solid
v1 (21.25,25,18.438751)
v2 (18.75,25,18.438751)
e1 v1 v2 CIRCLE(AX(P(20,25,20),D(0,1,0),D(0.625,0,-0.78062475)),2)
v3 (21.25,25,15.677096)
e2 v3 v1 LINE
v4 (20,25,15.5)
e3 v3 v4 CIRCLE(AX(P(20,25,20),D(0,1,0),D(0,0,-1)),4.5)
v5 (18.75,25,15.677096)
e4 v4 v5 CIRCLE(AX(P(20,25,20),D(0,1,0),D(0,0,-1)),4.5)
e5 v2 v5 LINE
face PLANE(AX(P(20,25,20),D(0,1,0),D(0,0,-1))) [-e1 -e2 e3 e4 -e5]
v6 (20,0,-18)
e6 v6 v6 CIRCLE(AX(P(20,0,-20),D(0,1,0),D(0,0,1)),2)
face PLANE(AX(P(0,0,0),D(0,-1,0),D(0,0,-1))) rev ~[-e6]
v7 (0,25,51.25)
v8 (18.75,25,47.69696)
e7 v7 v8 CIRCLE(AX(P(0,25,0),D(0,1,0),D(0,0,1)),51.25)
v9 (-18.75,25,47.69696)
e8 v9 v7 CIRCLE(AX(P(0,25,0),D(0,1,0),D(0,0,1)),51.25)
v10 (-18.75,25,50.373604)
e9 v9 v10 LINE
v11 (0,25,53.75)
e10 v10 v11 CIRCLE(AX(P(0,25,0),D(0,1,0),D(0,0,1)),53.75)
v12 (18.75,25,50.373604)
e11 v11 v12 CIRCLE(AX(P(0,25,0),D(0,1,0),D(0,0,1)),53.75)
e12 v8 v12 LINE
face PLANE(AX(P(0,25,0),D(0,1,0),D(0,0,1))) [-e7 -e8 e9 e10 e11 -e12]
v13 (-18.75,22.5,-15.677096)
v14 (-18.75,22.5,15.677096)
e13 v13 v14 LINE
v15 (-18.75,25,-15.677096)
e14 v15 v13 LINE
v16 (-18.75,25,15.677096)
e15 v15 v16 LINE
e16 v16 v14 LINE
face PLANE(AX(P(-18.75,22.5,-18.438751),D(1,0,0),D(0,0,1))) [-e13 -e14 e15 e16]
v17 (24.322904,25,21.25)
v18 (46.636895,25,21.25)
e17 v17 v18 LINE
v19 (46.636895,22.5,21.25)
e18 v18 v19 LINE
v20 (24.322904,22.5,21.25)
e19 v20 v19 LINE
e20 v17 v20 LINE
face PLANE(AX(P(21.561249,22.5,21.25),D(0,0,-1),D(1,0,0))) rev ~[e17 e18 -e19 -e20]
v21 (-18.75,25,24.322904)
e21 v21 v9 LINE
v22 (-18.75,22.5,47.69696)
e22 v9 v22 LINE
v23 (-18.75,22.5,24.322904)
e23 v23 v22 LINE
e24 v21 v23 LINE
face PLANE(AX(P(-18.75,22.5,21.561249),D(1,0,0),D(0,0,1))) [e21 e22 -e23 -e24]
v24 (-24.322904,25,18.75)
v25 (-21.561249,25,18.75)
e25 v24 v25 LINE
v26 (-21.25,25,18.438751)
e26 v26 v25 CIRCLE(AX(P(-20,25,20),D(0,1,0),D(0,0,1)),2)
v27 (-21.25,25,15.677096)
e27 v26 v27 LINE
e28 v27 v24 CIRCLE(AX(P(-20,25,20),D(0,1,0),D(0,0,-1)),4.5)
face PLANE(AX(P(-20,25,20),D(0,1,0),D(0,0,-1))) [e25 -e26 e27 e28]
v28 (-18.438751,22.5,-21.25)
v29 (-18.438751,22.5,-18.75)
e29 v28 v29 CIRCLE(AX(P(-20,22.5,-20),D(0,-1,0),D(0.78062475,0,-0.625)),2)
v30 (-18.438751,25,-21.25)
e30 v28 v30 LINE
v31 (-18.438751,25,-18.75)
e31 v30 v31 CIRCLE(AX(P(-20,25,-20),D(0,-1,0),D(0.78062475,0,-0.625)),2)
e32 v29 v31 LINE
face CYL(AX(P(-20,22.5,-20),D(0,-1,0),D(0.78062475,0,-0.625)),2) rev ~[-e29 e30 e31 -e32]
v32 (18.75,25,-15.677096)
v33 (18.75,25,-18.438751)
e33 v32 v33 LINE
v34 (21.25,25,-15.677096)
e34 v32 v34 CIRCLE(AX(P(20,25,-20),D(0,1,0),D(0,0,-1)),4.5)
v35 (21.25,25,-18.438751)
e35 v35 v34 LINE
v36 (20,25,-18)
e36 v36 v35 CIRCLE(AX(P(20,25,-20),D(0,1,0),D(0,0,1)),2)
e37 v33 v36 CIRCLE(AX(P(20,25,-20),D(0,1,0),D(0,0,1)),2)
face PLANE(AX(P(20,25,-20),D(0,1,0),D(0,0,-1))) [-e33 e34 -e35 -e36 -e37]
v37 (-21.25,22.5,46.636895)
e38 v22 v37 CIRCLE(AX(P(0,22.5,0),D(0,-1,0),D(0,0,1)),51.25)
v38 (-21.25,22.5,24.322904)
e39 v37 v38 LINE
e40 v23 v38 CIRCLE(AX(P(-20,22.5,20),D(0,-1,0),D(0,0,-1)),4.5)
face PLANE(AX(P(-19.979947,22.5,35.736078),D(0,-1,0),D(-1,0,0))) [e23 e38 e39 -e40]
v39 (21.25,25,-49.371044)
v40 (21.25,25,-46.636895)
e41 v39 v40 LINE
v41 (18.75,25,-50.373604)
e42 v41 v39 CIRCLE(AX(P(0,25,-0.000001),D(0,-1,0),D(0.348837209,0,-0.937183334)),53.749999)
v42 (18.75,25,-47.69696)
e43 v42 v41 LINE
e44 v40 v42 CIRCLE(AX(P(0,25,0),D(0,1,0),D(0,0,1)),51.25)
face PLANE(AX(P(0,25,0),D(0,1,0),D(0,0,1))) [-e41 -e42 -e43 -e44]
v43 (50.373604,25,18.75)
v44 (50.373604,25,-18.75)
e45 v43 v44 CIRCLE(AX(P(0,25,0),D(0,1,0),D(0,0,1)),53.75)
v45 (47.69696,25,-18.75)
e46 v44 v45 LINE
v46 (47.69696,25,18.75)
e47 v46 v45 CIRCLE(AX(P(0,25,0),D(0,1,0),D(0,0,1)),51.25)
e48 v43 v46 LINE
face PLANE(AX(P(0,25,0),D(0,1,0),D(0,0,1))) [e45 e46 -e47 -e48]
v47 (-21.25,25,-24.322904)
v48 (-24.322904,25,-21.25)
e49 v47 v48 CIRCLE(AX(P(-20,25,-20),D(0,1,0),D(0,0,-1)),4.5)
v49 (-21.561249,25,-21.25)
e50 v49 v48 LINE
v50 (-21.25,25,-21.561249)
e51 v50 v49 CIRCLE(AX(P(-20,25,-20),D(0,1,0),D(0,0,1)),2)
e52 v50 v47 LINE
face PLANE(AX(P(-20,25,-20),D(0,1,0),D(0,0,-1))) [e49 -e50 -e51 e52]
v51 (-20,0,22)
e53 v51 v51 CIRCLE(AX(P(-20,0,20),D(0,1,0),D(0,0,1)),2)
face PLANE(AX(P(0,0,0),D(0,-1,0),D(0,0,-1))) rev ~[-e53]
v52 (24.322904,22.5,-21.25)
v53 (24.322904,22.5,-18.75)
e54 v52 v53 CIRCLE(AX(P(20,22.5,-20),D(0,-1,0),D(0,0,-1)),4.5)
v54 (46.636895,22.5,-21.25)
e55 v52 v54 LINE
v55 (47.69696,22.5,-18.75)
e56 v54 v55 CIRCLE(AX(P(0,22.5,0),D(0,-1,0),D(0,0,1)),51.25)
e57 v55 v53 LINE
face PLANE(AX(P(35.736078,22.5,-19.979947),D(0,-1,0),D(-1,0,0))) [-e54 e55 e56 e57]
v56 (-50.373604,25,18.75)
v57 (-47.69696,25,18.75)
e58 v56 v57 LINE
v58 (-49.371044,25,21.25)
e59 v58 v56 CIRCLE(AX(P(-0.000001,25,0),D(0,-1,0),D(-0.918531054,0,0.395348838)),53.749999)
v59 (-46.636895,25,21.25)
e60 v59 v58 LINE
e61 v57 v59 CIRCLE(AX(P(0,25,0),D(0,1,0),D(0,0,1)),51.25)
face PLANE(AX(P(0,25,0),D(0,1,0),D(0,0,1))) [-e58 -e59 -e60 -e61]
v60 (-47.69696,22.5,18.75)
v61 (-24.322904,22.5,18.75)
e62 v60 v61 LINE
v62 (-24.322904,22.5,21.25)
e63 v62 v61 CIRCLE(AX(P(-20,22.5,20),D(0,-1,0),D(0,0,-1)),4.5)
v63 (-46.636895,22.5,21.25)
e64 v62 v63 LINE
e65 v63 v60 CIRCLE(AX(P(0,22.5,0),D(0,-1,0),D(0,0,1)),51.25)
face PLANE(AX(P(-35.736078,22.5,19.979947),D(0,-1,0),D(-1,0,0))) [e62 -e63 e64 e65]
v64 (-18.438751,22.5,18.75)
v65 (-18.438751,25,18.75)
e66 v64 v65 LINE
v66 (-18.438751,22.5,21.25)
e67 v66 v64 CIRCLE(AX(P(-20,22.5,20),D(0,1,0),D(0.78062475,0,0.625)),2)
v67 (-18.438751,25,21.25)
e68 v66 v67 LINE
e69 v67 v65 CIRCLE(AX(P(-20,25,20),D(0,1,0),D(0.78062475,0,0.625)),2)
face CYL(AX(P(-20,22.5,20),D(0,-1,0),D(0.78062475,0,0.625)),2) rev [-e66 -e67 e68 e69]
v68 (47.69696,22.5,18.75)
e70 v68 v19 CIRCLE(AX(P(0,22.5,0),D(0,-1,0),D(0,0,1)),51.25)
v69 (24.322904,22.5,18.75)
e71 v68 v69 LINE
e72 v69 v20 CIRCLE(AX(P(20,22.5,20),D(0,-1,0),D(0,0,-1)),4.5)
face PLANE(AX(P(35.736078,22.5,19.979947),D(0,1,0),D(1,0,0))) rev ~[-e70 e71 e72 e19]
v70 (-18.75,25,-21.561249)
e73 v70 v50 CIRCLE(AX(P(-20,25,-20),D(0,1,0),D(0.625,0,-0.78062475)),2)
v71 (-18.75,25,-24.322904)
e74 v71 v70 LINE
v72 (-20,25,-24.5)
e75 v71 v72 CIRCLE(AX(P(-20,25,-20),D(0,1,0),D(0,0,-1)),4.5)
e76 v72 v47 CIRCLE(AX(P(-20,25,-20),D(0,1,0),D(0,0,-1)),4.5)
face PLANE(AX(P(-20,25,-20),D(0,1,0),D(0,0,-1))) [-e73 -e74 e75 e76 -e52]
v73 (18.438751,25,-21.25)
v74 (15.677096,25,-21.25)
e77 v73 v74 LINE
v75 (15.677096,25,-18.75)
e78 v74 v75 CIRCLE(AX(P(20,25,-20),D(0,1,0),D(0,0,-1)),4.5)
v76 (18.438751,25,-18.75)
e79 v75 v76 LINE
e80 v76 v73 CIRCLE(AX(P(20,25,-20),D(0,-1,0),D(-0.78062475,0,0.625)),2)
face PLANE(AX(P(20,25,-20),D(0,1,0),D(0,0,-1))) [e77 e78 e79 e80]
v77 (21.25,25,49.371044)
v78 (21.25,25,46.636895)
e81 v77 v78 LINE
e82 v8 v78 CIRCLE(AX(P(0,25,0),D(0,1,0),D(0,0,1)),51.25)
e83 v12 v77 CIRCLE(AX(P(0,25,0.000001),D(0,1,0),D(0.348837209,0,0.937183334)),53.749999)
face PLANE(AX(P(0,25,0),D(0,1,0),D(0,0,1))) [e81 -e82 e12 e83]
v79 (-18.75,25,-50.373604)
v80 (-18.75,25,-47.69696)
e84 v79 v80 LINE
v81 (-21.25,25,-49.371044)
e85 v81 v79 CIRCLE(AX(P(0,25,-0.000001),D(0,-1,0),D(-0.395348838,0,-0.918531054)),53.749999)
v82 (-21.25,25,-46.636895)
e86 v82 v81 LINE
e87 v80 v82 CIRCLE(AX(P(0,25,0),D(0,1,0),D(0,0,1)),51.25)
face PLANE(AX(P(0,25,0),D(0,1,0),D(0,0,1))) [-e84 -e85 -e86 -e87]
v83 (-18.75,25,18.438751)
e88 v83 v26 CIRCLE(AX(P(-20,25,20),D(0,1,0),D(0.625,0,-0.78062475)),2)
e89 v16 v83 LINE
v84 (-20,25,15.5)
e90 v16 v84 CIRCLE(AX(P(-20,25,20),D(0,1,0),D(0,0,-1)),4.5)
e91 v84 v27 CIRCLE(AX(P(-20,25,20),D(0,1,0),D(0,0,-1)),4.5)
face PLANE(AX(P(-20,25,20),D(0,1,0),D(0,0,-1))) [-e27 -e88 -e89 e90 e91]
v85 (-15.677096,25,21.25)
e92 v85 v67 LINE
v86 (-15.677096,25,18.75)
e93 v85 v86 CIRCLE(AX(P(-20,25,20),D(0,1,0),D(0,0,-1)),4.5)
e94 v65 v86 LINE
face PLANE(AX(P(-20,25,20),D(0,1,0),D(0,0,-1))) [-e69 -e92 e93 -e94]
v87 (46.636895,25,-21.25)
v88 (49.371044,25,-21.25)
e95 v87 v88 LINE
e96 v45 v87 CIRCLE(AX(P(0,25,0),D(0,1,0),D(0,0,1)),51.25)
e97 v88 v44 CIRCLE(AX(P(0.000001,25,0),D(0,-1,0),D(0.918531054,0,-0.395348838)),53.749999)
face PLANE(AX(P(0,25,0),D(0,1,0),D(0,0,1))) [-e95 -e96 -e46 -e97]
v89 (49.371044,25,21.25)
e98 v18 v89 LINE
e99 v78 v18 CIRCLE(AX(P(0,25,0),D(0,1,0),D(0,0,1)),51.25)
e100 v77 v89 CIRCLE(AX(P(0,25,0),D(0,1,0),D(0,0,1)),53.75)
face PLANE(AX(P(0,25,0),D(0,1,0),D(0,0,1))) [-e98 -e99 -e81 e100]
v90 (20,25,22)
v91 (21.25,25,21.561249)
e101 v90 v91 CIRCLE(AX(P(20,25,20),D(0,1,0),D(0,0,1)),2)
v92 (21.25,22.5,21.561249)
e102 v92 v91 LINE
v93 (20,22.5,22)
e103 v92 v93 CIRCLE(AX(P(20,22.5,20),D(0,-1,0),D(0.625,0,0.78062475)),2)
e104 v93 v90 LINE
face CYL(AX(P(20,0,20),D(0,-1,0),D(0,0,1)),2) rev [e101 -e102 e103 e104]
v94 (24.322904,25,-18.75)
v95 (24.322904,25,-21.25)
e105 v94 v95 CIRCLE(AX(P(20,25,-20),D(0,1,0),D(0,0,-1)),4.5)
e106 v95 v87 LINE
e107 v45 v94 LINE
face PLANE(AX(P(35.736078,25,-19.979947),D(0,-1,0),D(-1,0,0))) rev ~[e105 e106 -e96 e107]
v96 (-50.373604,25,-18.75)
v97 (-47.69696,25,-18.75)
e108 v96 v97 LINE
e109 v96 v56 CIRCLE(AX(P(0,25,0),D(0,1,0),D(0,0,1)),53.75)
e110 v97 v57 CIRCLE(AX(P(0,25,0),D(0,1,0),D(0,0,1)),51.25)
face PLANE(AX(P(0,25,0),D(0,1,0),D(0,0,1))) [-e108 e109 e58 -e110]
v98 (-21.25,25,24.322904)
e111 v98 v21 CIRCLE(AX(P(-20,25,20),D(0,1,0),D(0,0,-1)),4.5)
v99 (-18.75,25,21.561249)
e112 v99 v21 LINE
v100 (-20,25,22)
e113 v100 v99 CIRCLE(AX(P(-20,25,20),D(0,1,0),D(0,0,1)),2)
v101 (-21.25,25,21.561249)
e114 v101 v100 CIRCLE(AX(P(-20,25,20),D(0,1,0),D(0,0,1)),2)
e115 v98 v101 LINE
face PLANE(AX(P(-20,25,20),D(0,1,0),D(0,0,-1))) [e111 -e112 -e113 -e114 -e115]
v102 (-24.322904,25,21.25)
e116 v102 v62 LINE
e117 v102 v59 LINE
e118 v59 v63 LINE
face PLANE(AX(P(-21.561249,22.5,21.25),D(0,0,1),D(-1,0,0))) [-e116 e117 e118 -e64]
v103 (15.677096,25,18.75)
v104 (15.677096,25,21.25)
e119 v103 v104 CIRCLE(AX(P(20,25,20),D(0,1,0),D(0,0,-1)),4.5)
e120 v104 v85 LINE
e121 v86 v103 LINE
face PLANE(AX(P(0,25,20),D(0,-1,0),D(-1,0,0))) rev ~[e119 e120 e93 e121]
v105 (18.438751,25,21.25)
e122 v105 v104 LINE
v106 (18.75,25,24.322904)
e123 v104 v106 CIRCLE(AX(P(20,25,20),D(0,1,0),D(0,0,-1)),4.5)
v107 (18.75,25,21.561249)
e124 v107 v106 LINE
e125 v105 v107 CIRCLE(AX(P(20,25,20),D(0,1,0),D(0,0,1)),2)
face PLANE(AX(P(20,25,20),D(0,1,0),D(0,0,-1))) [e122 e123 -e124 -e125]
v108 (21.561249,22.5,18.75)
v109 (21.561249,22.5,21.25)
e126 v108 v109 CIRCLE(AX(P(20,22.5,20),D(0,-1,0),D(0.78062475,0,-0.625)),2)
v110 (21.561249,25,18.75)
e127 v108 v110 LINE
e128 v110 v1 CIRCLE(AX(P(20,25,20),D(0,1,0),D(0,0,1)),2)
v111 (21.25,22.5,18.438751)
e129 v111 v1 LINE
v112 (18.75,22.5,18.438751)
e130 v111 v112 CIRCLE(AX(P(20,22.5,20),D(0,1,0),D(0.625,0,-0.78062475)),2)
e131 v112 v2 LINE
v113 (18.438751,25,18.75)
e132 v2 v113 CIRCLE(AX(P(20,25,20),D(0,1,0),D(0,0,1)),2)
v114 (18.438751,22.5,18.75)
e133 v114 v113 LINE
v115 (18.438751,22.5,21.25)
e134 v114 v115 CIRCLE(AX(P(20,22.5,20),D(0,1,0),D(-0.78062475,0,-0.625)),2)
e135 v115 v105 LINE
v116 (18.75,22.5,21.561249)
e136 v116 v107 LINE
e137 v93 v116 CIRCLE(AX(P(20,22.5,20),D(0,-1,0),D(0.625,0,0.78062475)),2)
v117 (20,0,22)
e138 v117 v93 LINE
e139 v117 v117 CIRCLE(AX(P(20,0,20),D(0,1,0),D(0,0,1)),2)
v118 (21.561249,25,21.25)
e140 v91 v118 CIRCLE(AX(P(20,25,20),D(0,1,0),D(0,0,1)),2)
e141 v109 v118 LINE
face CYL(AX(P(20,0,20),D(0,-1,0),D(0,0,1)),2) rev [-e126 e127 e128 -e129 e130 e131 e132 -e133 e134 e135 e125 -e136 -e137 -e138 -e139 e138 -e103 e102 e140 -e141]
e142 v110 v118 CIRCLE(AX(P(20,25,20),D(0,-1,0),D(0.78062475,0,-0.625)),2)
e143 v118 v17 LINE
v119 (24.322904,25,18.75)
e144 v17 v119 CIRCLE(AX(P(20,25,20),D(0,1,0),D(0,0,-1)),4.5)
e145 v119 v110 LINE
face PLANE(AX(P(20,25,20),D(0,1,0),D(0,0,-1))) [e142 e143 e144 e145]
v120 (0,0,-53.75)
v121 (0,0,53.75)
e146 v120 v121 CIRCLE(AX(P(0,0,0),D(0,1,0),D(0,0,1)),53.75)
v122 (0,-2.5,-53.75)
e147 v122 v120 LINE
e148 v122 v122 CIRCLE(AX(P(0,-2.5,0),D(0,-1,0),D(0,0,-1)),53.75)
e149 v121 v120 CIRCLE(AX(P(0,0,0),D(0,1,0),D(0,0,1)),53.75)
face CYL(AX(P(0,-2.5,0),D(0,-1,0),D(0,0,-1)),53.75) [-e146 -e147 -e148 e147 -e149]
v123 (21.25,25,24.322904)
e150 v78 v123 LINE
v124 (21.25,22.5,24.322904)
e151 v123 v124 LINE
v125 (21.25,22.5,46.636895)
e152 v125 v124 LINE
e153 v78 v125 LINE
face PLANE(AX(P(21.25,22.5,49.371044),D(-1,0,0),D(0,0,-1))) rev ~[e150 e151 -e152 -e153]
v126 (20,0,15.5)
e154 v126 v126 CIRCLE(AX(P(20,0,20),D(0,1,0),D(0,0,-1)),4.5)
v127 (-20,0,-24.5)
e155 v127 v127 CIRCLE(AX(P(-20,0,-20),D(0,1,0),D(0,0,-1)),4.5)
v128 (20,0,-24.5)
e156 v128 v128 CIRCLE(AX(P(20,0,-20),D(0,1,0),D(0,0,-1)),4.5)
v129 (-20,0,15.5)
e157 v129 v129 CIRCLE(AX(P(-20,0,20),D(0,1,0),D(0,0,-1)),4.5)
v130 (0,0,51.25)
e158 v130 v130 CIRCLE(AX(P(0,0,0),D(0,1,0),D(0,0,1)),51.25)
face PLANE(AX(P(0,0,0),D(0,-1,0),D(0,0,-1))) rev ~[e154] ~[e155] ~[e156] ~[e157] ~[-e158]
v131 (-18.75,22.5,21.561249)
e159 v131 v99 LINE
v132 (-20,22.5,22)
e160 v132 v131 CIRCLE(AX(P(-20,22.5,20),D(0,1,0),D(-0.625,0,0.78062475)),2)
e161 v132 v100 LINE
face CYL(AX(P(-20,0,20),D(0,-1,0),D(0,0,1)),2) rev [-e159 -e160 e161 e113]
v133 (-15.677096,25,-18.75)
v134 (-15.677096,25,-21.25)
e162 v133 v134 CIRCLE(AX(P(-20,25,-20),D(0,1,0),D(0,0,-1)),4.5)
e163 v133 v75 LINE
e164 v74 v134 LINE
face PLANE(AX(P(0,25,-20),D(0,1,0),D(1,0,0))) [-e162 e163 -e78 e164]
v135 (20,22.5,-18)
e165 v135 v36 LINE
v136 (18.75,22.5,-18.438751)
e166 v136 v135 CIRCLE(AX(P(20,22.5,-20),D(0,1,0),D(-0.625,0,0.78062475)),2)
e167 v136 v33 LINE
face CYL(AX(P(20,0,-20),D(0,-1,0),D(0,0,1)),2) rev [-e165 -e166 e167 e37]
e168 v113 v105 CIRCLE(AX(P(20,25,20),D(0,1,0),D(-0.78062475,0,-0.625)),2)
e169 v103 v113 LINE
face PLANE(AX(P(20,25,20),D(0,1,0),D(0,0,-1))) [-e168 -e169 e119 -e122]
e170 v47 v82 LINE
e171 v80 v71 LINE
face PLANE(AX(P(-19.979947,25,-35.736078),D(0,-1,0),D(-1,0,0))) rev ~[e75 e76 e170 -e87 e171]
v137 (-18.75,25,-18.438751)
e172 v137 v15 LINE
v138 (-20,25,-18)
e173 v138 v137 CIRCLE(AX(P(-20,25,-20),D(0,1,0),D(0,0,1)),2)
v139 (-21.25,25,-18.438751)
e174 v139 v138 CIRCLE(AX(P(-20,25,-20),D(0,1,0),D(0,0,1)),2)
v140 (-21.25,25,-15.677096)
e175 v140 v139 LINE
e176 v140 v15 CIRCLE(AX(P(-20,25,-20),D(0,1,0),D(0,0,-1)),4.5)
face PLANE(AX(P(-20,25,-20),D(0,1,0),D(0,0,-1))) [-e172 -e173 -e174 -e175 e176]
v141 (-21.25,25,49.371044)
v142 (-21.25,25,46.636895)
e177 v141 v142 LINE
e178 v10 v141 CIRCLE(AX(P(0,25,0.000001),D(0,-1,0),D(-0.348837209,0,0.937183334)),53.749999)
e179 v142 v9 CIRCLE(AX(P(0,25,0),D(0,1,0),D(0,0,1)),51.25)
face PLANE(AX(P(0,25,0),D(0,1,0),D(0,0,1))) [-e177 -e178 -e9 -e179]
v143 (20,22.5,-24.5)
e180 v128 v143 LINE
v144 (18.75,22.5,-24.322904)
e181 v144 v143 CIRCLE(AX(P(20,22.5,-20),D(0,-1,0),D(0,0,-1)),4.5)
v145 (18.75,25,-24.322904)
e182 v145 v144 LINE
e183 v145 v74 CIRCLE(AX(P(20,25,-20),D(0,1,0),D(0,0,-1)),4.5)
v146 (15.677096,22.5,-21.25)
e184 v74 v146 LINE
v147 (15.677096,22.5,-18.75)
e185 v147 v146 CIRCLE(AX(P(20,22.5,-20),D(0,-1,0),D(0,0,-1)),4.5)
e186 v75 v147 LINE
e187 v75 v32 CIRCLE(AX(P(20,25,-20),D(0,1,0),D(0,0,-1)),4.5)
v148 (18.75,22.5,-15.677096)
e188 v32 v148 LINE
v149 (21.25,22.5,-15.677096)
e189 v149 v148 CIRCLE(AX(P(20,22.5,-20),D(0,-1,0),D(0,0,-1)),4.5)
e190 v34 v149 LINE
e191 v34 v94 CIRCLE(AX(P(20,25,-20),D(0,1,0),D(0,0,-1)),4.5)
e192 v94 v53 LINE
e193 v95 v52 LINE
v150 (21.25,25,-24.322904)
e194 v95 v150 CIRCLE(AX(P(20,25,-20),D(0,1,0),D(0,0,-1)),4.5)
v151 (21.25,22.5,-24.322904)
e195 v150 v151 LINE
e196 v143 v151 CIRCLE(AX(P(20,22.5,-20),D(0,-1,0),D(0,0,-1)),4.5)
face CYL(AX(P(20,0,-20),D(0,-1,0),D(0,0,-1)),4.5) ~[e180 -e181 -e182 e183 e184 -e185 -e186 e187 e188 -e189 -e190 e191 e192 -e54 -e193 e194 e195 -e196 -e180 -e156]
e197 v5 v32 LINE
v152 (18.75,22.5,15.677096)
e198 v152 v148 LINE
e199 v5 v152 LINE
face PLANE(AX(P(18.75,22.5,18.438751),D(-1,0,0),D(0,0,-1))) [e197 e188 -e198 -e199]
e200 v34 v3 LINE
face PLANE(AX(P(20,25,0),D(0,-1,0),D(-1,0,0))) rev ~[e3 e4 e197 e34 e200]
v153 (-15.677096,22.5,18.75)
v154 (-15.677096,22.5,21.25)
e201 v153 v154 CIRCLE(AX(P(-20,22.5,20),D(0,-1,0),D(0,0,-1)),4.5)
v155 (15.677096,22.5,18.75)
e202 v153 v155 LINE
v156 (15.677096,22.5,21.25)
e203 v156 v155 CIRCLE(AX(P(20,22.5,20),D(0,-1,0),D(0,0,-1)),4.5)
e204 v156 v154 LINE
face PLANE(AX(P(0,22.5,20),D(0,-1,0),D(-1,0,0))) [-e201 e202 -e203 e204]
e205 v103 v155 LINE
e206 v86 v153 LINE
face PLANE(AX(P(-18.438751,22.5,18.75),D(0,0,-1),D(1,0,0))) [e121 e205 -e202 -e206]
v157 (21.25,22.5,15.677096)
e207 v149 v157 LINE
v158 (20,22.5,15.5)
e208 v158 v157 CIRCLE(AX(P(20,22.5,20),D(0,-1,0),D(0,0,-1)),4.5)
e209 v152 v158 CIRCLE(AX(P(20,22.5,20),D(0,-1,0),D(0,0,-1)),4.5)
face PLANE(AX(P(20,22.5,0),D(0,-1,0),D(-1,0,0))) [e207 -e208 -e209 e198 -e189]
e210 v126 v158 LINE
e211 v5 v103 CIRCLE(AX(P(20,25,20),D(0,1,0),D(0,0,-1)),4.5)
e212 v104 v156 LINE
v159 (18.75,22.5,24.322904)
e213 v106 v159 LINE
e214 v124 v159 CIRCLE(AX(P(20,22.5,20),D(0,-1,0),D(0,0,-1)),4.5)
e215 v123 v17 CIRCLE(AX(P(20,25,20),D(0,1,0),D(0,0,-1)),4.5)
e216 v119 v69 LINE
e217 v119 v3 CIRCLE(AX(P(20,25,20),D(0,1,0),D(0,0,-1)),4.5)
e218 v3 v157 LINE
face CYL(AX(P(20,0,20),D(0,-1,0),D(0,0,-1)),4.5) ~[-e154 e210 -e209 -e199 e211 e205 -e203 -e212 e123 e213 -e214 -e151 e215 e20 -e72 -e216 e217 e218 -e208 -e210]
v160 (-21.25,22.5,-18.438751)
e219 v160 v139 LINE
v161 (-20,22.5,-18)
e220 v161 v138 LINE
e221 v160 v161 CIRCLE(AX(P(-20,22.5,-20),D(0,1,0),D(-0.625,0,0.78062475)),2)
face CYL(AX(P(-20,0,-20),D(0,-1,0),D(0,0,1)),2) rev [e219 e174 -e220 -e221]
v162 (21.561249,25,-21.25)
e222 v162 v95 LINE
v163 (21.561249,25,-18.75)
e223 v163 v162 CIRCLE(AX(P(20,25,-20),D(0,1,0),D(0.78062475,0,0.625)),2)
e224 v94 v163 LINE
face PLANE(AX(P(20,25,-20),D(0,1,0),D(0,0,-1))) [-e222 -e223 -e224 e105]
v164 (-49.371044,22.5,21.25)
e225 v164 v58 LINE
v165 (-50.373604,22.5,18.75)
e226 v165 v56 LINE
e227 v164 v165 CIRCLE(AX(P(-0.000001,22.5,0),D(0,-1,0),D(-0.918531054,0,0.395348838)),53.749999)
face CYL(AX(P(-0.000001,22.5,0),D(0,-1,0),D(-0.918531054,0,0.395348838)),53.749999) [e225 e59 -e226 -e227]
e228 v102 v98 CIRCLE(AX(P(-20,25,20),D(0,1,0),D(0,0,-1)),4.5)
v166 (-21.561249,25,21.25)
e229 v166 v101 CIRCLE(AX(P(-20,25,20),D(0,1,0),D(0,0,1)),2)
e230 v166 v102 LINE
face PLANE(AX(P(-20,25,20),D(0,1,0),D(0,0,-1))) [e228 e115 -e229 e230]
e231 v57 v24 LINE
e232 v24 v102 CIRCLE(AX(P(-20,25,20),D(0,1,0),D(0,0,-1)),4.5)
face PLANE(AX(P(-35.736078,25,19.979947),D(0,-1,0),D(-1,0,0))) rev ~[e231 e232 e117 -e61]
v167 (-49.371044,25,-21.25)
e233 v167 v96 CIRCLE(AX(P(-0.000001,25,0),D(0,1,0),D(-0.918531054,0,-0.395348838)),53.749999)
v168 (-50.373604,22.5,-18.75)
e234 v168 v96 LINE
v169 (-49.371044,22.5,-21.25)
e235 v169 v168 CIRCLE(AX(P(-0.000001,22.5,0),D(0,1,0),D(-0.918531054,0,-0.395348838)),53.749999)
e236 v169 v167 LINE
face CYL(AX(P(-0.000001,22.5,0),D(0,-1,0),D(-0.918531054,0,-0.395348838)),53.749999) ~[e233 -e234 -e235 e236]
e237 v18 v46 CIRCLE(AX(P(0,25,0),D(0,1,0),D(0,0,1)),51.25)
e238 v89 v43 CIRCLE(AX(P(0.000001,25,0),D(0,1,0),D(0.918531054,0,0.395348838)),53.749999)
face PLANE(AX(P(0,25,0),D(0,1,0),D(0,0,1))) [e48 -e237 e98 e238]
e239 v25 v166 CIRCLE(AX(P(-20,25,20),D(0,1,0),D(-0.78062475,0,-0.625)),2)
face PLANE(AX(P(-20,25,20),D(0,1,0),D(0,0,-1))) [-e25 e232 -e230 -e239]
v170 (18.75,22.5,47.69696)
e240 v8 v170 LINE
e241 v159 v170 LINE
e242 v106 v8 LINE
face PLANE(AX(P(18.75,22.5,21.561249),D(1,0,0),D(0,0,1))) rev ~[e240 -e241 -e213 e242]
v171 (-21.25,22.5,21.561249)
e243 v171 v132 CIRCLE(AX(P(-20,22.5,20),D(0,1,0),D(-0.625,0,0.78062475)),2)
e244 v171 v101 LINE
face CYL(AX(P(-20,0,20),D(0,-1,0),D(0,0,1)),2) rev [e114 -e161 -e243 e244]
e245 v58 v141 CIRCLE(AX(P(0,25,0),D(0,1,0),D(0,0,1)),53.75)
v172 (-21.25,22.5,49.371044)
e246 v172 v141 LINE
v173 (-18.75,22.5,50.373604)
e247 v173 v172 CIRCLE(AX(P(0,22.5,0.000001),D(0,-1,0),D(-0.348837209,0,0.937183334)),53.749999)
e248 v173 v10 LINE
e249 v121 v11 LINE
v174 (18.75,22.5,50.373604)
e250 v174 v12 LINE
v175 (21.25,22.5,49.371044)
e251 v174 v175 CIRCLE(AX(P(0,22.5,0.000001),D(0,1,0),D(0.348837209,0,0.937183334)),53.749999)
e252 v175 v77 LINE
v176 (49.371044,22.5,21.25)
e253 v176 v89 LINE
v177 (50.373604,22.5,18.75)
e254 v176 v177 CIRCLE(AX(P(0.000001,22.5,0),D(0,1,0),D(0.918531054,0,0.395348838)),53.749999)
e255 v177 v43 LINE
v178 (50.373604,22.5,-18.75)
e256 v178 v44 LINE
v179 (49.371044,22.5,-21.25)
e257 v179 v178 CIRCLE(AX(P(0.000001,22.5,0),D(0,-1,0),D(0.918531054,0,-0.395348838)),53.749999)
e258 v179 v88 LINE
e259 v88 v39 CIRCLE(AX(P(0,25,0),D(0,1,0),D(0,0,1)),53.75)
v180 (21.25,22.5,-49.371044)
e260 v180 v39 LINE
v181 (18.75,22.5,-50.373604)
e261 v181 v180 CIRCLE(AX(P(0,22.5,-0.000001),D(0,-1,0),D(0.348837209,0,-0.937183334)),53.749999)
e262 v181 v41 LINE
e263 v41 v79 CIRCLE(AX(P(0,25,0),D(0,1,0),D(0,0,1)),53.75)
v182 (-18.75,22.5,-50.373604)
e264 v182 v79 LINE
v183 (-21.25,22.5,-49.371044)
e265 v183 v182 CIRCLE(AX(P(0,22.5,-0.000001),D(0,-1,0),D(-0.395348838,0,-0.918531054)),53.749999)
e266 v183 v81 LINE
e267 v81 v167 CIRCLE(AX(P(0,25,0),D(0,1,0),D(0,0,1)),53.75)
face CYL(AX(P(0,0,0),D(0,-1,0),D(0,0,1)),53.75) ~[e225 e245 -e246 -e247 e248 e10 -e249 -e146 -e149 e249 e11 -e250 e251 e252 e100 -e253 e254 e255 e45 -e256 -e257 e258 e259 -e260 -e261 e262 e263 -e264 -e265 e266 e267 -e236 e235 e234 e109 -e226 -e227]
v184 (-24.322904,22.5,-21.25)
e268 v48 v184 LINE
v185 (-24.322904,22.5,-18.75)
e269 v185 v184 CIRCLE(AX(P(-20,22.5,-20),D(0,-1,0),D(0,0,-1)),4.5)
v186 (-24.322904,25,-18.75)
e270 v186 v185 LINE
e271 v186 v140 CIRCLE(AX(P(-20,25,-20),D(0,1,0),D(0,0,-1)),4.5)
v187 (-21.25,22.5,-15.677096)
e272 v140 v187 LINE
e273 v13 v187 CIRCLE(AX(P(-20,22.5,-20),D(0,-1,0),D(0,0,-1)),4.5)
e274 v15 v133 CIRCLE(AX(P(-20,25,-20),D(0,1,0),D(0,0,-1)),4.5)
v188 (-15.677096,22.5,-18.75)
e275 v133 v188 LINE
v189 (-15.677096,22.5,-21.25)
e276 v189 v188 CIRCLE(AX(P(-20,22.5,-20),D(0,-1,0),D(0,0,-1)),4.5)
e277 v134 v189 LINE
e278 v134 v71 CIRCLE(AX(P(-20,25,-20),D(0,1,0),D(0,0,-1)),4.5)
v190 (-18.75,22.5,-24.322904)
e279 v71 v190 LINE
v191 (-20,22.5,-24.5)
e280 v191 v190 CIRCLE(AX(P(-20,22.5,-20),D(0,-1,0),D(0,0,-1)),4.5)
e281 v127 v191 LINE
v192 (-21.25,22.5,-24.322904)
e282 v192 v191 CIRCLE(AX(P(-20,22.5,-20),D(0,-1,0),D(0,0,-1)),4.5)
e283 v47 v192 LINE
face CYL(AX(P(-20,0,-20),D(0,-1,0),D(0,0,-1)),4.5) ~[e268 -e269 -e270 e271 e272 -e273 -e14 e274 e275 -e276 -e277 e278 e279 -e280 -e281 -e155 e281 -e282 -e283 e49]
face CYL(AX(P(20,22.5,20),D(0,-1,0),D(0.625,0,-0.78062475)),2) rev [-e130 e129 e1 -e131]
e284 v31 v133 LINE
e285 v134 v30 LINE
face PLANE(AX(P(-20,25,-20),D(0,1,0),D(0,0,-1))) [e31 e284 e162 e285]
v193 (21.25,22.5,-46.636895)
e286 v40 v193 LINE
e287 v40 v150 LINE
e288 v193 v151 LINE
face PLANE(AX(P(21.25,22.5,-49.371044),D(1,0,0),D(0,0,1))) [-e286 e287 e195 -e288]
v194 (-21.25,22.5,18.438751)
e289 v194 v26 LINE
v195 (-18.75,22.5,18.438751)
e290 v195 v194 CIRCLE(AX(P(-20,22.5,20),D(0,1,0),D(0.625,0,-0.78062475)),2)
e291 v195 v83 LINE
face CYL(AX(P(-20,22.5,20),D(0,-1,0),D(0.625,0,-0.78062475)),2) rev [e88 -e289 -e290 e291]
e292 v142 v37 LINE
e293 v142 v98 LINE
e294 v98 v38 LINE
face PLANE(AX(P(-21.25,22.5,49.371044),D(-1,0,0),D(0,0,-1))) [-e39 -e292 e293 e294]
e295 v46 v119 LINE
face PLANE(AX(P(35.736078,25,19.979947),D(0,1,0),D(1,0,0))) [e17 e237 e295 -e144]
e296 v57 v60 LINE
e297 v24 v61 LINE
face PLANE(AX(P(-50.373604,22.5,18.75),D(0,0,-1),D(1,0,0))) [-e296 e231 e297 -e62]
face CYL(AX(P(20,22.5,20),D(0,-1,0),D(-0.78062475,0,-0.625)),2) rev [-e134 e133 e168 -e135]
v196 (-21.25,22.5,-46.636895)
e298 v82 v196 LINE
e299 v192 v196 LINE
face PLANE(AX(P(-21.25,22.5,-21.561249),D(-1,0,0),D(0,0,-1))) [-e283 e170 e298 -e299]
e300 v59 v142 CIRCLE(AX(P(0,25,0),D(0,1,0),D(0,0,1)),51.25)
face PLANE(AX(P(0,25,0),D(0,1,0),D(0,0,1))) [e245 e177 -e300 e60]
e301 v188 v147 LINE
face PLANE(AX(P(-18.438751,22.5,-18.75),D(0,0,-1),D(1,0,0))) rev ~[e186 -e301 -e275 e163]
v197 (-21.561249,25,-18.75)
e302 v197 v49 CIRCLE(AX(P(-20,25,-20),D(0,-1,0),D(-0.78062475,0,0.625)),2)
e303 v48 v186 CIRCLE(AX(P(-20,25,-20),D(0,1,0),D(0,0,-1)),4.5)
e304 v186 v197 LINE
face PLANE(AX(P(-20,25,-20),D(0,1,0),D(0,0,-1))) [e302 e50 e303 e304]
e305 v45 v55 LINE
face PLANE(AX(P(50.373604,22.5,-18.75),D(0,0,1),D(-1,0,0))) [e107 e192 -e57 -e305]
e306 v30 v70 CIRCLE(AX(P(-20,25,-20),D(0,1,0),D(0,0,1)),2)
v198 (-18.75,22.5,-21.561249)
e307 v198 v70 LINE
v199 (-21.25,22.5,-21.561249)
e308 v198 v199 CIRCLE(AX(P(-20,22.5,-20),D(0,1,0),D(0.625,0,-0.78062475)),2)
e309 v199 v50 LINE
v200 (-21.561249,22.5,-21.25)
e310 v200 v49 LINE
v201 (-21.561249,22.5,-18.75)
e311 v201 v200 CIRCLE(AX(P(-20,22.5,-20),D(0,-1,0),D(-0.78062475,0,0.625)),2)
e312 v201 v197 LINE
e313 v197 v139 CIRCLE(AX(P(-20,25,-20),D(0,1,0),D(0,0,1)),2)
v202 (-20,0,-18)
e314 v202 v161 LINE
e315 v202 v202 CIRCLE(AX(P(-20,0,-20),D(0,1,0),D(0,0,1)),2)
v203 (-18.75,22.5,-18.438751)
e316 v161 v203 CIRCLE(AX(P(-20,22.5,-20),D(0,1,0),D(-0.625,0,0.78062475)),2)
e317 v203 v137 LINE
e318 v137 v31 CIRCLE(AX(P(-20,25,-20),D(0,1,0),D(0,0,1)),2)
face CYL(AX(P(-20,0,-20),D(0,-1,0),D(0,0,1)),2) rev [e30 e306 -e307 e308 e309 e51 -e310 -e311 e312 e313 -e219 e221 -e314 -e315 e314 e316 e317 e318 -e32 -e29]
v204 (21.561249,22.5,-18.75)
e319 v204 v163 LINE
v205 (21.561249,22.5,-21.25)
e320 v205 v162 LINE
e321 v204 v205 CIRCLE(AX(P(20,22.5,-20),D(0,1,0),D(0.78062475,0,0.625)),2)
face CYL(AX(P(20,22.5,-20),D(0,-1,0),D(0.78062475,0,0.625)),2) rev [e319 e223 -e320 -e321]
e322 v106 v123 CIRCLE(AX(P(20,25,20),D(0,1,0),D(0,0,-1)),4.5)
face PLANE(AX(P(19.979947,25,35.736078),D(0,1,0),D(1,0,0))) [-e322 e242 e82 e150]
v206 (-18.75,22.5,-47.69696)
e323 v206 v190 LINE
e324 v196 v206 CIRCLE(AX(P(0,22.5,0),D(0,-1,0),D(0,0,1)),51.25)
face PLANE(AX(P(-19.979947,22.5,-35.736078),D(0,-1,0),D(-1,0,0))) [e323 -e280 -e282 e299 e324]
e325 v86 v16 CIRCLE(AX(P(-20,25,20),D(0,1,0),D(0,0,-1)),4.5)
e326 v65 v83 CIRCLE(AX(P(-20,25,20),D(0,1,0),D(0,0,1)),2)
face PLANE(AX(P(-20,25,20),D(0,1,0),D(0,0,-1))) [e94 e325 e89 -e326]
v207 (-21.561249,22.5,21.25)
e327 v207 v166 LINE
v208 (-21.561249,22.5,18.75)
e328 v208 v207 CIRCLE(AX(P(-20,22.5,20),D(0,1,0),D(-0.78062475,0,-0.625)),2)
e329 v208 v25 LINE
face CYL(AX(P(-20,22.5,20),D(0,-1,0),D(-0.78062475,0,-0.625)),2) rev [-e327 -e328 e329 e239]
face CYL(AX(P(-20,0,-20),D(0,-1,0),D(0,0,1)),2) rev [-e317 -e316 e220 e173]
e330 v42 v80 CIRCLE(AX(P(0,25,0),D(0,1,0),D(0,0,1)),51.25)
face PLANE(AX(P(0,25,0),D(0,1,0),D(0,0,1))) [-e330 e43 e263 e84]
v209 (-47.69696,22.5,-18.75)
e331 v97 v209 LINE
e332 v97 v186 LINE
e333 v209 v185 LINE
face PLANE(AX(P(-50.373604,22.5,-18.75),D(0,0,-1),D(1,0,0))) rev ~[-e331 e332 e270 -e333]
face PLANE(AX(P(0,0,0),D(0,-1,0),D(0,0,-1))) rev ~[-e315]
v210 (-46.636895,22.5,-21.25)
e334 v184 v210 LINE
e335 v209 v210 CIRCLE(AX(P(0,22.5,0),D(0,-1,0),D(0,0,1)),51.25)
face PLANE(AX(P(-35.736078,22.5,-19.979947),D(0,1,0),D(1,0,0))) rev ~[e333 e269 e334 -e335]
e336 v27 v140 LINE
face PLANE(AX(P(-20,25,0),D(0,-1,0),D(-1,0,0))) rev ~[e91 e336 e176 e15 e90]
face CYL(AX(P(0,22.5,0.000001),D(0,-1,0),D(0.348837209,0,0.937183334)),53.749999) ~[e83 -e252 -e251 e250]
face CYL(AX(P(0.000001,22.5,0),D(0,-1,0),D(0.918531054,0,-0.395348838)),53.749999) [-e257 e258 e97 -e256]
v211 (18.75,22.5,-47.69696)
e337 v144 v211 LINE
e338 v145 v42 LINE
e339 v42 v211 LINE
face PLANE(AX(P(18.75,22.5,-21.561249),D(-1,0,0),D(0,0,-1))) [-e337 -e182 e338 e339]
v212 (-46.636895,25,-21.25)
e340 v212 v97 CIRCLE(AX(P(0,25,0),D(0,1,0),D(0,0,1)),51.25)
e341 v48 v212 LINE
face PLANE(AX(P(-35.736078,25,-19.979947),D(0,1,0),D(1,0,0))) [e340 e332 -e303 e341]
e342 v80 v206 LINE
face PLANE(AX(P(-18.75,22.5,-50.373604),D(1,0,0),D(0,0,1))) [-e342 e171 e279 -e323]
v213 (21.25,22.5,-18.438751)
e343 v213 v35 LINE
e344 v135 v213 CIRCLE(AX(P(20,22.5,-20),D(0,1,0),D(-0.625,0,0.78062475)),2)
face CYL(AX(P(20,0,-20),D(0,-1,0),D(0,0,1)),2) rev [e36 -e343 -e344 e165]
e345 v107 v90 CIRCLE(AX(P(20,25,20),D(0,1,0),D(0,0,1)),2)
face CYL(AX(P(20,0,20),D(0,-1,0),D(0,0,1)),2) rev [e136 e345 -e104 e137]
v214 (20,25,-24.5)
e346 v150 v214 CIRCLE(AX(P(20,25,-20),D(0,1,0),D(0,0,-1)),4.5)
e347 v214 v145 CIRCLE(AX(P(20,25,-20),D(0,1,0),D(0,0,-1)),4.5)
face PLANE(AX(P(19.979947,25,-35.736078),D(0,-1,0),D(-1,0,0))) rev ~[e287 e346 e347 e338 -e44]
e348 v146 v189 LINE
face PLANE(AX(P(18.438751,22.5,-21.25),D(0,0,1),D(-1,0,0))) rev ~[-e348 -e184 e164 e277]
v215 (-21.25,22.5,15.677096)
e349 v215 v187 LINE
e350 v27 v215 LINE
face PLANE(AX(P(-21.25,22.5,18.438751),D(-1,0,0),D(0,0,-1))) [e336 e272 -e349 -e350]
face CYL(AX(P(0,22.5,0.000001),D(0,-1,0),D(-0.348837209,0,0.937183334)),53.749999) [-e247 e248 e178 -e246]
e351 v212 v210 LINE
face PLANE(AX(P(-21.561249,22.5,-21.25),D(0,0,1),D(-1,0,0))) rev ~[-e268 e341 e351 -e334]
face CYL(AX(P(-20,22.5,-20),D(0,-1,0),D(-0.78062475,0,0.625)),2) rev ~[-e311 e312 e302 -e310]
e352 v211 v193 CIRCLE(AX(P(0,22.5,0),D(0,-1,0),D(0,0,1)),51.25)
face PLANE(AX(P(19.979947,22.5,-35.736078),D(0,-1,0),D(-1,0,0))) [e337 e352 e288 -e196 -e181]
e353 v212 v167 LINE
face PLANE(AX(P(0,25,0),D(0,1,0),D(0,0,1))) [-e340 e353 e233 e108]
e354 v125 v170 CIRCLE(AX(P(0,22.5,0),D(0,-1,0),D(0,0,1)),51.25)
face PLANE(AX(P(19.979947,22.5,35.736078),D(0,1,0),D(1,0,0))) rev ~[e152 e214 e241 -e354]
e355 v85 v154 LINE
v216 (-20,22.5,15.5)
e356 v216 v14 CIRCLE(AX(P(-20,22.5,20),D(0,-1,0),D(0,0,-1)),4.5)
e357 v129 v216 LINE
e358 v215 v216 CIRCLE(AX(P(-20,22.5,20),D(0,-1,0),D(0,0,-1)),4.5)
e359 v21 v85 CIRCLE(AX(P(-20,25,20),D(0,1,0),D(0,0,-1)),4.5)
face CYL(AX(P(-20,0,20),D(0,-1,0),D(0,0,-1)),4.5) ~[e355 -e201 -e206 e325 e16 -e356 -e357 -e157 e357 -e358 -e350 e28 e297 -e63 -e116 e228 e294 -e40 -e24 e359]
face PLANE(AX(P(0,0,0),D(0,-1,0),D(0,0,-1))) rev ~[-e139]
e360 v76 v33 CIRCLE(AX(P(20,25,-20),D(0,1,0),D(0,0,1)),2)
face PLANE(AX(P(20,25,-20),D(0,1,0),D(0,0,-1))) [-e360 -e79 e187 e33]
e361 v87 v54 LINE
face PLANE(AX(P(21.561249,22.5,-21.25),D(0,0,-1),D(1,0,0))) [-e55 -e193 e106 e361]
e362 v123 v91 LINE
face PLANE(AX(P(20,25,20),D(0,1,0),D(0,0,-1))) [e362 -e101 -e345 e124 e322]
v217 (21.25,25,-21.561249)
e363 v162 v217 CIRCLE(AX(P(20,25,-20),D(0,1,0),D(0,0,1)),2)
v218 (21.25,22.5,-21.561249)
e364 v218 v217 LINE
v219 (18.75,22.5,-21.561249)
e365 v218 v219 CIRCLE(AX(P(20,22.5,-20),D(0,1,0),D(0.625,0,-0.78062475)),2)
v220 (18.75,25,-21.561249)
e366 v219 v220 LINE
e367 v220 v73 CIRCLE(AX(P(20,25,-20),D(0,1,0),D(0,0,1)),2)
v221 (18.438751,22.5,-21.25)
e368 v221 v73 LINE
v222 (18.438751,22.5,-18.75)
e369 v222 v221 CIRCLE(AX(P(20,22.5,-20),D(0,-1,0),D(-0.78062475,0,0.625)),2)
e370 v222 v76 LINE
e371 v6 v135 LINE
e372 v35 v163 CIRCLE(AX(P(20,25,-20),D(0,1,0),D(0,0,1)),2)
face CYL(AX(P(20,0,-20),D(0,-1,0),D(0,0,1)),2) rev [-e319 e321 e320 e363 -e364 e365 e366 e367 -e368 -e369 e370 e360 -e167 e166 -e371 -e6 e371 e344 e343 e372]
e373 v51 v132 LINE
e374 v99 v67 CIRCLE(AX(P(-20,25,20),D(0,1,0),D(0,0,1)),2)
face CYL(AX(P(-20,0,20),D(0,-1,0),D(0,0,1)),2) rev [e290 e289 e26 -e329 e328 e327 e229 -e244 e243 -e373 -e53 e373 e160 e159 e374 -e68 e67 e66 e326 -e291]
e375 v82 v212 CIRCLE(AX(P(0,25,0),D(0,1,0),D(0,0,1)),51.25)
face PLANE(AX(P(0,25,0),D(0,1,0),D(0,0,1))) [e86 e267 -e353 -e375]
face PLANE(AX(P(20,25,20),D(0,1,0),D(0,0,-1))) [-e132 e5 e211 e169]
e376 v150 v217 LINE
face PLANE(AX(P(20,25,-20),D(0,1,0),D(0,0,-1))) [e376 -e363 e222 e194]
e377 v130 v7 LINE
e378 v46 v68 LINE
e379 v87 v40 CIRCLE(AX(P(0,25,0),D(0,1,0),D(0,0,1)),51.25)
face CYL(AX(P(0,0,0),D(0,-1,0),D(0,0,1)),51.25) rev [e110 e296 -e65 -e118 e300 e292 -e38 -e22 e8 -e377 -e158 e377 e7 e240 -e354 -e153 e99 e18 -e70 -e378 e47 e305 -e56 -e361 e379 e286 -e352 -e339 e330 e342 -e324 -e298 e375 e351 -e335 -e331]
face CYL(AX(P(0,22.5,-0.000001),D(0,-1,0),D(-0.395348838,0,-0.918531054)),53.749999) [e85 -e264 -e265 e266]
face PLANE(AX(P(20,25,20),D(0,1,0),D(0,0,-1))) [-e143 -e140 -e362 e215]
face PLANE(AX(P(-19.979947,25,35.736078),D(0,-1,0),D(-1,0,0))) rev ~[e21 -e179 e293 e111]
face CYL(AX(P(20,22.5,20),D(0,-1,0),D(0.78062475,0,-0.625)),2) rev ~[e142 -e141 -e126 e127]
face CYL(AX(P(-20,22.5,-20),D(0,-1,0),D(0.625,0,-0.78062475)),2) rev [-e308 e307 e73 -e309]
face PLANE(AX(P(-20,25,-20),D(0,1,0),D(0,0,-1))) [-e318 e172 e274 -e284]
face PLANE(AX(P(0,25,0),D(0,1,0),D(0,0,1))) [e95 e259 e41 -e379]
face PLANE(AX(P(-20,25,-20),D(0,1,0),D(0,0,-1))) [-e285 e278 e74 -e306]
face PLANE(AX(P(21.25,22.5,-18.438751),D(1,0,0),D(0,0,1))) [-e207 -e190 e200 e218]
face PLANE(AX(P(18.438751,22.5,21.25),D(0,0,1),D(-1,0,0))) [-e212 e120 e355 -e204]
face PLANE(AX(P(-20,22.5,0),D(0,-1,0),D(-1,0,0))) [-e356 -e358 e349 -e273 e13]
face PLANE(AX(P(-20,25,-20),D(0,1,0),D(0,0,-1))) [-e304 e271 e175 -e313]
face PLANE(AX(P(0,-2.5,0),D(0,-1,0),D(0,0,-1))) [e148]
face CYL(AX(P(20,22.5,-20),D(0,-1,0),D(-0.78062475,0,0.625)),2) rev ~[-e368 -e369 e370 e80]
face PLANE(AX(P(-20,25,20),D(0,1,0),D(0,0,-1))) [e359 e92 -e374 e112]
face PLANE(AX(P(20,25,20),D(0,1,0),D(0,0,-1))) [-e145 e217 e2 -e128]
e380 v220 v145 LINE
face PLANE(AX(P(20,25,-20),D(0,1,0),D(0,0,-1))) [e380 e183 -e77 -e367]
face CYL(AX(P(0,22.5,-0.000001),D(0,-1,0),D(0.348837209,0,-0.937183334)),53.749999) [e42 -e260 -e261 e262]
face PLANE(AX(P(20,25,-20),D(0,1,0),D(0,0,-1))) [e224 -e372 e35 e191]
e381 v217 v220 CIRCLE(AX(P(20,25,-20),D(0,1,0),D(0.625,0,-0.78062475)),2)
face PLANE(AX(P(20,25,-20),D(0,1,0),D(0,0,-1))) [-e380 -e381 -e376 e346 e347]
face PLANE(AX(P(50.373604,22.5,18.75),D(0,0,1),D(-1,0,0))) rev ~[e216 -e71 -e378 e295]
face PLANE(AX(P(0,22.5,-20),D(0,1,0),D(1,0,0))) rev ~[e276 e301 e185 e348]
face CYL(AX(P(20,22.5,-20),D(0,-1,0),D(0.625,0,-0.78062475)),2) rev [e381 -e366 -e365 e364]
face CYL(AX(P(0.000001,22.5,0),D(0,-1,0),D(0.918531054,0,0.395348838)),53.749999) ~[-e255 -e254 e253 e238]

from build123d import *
from build123d.topology import SkipClean

# Parameters (mm, degrees)
SKETCH1_R           = 53.75
SKETCH1_R_2         = 51.25
BOSS_EXTRUDE1_DEPTH = 25
BOSS_EXTRUDE2_START = 2.5
SKETCH6_R           = 53.75
BOSS_EXTRUDE2_DEPTH = 2.5
SKETCH8_R           = 4.5
SKETCH8_R_2         = 2
BOSS_EXTRUDE3_DEPTH = 25
BOSS_EXTRUDE4_START = -2.5
BOSS_EXTRUDE4_DEPTH = 2.5


with BuildPart() as part:
    # Sketch1 → Boss-Extrude1 (new body)
    with BuildSketch(Plane(origin=(0, 0, 0), x_dir=(1, 0, 0), z_dir=(0, 1, 0))):
        with Locations(Location((0, 0, 0), (0, 0, 270))):
            Circle(SKETCH1_R)
        with Locations(Location((0, 0, 0), (0, 0, 270))):
            Circle(SKETCH1_R_2, mode=Mode.SUBTRACT)
    extrude(amount=BOSS_EXTRUDE1_DEPTH)

    # Sketch6 → Boss-Extrude2 (add)
    with BuildSketch(Plane.XZ.offset(BOSS_EXTRUDE2_START)):
        with Locations(Location((0, 0, 0), (0, 0, 270))):
            Circle(SKETCH6_R)
    extrude(amount=-BOSS_EXTRUDE2_DEPTH)

    # Sketch8 → Boss-Extrude3 (add)
    # profile 1 of 4: a face of its own
    with BuildSketch(Plane(origin=(0, 0, 0), x_dir=(1, 0, 0), z_dir=(0, 1, 0))):
        with Locations(Location((-20, 20, 0), (0, 0, 90))):
            Circle(SKETCH8_R)
        with Locations(Location((-20, 20, 0), (0, 0, 270))):
            Circle(SKETCH8_R_2, mode=Mode.SUBTRACT)
    # profile 2 of 4: a face of its own
    with BuildSketch(Plane(origin=(0, 0, 0), x_dir=(1, 0, 0), z_dir=(0, 1, 0))):
        with Locations(Location((20, 20, 0), (0, 0, 90))):
            Circle(SKETCH8_R)
        with Locations(Location((20, 20, 0), (0, 0, 270))):
            Circle(SKETCH8_R_2, mode=Mode.SUBTRACT)
    # profile 3 of 4: a face of its own
    with BuildSketch(Plane(origin=(0, 0, 0), x_dir=(1, 0, 0), z_dir=(0, 1, 0))):
        with Locations(Location((20, -20, 0), (0, 0, 90))):
            Circle(SKETCH8_R)
        with Locations(Location((20, -20, 0), (0, 0, 270))):
            Circle(SKETCH8_R_2, mode=Mode.SUBTRACT)
    # profile 4 of 4: a face of its own
    with BuildSketch(Plane(origin=(0, 0, 0), x_dir=(1, 0, 0), z_dir=(0, 1, 0))):
        with Locations(Location((-20, -20, 0), (0, 0, 90))):
            Circle(SKETCH8_R)
        with Locations(Location((-20, -20, 0), (0, 0, 270))):
            Circle(SKETCH8_R_2, mode=Mode.SUBTRACT)
    extrude(amount=BOSS_EXTRUDE3_DEPTH)

    # Sketch12 → Boss-Extrude4 (add)
    with SkipClean():  # the faces are left unmerged after this step: merging them gives an invalid solid
        with BuildSketch(Plane(origin=(0, 25, 0), x_dir=(1, 0, 0), z_dir=(0, 1, 0)).offset(BOSS_EXTRUDE4_START)):
            with BuildLine():
                Line((-18.75, 18.4387505), (-18.75, -18.4387505))
                ThreePointArc((-18.75, -18.4387505), (-20, -18), (-21.25, -18.4387505))
                Line((-21.25, -18.4387505), (-21.25, 18.4387505))
                ThreePointArc((-21.25, 18.4387505), (-20, 18), (-18.75, 18.4387505))
            make_face()
            with BuildLine():
                Line((18.4387505, 21.25), (-18.4387505, 21.25))
                ThreePointArc((-18.4387505, 21.25), (-18, 20), (-18.4387505, 18.75))
                Line((-18.4387505, 18.75), (18.4387505, 18.75))
                ThreePointArc((18.4387505, 18.75), (18, 20), (18.4387505, 21.25))
            make_face()
            with BuildLine():
                Line((21.25, 18.4387505), (21.25, -18.4387505))
                ThreePointArc((21.25, -18.4387505), (20, -18), (18.75, -18.4387505))
                Line((18.75, -18.4387505), (18.75, 18.4387505))
                ThreePointArc((18.75, 18.4387505), (20, 18), (21.25, 18.4387505))
            make_face()
            with BuildLine():
                Line((18.4387505, -21.25), (-18.4387505, -21.25))
                ThreePointArc((-18.4387505, -21.25), (-18, -20), (-18.4387505, -18.75))
                Line((-18.4387505, -18.75), (18.4387505, -18.75))
                ThreePointArc((18.4387505, -18.75), (18, -20), (18.4387505, -21.25))
            make_face()
            with BuildLine():
                Line((-21.5612495, 21.25), (-49.371044145, 21.25))
                ThreePointArc((-49.371044145, 21.25), (-49.887986714, 20.006281055), (-50.373604199, 18.75))
                Line((-50.373604199, 18.75), (-21.5612495, 18.75))
                ThreePointArc((-21.5612495, 18.75), (-22, 20), (-21.5612495, 21.25))
            make_face()
            with BuildLine():
                Line((-21.25, 21.5612495), (-21.25, 49.371044145))
                ThreePointArc((-21.25, 49.371044145), (-20.006281055, 49.887986714), (-18.75, 50.373604199))
                Line((-18.75, 50.373604199), (-18.75, 21.5612495))
                ThreePointArc((-18.75, 21.5612495), (-20, 22), (-21.25, 21.5612495))
            make_face()
            with BuildLine():
                Line((18.75, 21.5612495), (18.75, 50.373604199))
                ThreePointArc((18.75, 50.373604199), (20.006281055, 49.887986714), (21.25, 49.371044145))
                Line((21.25, 49.371044145), (21.25, 21.5612495))
                ThreePointArc((21.25, 21.5612495), (20, 22), (18.75, 21.5612495))
            make_face()
            with BuildLine():
                Line((21.5612495, 21.25), (49.371044145, 21.25))
                ThreePointArc((49.371044145, 21.25), (49.887986714, 20.006281055), (50.373604199, 18.75))
                Line((50.373604199, 18.75), (21.5612495, 18.75))
                ThreePointArc((21.5612495, 18.75), (22, 20), (21.5612495, 21.25))
            make_face()
            with BuildLine():
                Line((18.75, -21.5612495), (18.75, -50.373604199))
                ThreePointArc((18.75, -50.373604199), (20.006281055, -49.887986714), (21.25, -49.371044145))
                Line((21.25, -49.371044145), (21.25, -21.5612495))
                ThreePointArc((21.25, -21.5612495), (20, -22), (18.75, -21.5612495))
            make_face()
            with BuildLine():
                Line((21.5612495, -21.25), (49.371044145, -21.25))
                ThreePointArc((49.371044145, -21.25), (49.887986714, -20.006281055), (50.373604199, -18.75))
                Line((50.373604199, -18.75), (21.5612495, -18.75))
                ThreePointArc((21.5612495, -18.75), (22, -20), (21.5612495, -21.25))
            make_face()
            with BuildLine():
                Line((-18.75, -21.5612495), (-18.75, -50.373604199))
                ThreePointArc((-18.75, -50.373604199), (-20.006281055, -49.887986714), (-21.25, -49.371044145))
                Line((-21.25, -49.371044145), (-21.25, -21.5612495))
                ThreePointArc((-21.25, -21.5612495), (-20, -22), (-18.75, -21.5612495))
            make_face()
            with BuildLine():
                Line((-21.5612495, -21.25), (-49.371044145, -21.25))
                ThreePointArc((-49.371044145, -21.25), (-49.887986714, -20.006281055), (-50.373604199, -18.75))
                Line((-50.373604199, -18.75), (-21.5612495, -18.75))
                ThreePointArc((-21.5612495, -18.75), (-22, -20), (-21.5612495, -21.25))
            make_face()
        extrude(amount=BOSS_EXTRUDE4_DEPTH)


solid = part.part
